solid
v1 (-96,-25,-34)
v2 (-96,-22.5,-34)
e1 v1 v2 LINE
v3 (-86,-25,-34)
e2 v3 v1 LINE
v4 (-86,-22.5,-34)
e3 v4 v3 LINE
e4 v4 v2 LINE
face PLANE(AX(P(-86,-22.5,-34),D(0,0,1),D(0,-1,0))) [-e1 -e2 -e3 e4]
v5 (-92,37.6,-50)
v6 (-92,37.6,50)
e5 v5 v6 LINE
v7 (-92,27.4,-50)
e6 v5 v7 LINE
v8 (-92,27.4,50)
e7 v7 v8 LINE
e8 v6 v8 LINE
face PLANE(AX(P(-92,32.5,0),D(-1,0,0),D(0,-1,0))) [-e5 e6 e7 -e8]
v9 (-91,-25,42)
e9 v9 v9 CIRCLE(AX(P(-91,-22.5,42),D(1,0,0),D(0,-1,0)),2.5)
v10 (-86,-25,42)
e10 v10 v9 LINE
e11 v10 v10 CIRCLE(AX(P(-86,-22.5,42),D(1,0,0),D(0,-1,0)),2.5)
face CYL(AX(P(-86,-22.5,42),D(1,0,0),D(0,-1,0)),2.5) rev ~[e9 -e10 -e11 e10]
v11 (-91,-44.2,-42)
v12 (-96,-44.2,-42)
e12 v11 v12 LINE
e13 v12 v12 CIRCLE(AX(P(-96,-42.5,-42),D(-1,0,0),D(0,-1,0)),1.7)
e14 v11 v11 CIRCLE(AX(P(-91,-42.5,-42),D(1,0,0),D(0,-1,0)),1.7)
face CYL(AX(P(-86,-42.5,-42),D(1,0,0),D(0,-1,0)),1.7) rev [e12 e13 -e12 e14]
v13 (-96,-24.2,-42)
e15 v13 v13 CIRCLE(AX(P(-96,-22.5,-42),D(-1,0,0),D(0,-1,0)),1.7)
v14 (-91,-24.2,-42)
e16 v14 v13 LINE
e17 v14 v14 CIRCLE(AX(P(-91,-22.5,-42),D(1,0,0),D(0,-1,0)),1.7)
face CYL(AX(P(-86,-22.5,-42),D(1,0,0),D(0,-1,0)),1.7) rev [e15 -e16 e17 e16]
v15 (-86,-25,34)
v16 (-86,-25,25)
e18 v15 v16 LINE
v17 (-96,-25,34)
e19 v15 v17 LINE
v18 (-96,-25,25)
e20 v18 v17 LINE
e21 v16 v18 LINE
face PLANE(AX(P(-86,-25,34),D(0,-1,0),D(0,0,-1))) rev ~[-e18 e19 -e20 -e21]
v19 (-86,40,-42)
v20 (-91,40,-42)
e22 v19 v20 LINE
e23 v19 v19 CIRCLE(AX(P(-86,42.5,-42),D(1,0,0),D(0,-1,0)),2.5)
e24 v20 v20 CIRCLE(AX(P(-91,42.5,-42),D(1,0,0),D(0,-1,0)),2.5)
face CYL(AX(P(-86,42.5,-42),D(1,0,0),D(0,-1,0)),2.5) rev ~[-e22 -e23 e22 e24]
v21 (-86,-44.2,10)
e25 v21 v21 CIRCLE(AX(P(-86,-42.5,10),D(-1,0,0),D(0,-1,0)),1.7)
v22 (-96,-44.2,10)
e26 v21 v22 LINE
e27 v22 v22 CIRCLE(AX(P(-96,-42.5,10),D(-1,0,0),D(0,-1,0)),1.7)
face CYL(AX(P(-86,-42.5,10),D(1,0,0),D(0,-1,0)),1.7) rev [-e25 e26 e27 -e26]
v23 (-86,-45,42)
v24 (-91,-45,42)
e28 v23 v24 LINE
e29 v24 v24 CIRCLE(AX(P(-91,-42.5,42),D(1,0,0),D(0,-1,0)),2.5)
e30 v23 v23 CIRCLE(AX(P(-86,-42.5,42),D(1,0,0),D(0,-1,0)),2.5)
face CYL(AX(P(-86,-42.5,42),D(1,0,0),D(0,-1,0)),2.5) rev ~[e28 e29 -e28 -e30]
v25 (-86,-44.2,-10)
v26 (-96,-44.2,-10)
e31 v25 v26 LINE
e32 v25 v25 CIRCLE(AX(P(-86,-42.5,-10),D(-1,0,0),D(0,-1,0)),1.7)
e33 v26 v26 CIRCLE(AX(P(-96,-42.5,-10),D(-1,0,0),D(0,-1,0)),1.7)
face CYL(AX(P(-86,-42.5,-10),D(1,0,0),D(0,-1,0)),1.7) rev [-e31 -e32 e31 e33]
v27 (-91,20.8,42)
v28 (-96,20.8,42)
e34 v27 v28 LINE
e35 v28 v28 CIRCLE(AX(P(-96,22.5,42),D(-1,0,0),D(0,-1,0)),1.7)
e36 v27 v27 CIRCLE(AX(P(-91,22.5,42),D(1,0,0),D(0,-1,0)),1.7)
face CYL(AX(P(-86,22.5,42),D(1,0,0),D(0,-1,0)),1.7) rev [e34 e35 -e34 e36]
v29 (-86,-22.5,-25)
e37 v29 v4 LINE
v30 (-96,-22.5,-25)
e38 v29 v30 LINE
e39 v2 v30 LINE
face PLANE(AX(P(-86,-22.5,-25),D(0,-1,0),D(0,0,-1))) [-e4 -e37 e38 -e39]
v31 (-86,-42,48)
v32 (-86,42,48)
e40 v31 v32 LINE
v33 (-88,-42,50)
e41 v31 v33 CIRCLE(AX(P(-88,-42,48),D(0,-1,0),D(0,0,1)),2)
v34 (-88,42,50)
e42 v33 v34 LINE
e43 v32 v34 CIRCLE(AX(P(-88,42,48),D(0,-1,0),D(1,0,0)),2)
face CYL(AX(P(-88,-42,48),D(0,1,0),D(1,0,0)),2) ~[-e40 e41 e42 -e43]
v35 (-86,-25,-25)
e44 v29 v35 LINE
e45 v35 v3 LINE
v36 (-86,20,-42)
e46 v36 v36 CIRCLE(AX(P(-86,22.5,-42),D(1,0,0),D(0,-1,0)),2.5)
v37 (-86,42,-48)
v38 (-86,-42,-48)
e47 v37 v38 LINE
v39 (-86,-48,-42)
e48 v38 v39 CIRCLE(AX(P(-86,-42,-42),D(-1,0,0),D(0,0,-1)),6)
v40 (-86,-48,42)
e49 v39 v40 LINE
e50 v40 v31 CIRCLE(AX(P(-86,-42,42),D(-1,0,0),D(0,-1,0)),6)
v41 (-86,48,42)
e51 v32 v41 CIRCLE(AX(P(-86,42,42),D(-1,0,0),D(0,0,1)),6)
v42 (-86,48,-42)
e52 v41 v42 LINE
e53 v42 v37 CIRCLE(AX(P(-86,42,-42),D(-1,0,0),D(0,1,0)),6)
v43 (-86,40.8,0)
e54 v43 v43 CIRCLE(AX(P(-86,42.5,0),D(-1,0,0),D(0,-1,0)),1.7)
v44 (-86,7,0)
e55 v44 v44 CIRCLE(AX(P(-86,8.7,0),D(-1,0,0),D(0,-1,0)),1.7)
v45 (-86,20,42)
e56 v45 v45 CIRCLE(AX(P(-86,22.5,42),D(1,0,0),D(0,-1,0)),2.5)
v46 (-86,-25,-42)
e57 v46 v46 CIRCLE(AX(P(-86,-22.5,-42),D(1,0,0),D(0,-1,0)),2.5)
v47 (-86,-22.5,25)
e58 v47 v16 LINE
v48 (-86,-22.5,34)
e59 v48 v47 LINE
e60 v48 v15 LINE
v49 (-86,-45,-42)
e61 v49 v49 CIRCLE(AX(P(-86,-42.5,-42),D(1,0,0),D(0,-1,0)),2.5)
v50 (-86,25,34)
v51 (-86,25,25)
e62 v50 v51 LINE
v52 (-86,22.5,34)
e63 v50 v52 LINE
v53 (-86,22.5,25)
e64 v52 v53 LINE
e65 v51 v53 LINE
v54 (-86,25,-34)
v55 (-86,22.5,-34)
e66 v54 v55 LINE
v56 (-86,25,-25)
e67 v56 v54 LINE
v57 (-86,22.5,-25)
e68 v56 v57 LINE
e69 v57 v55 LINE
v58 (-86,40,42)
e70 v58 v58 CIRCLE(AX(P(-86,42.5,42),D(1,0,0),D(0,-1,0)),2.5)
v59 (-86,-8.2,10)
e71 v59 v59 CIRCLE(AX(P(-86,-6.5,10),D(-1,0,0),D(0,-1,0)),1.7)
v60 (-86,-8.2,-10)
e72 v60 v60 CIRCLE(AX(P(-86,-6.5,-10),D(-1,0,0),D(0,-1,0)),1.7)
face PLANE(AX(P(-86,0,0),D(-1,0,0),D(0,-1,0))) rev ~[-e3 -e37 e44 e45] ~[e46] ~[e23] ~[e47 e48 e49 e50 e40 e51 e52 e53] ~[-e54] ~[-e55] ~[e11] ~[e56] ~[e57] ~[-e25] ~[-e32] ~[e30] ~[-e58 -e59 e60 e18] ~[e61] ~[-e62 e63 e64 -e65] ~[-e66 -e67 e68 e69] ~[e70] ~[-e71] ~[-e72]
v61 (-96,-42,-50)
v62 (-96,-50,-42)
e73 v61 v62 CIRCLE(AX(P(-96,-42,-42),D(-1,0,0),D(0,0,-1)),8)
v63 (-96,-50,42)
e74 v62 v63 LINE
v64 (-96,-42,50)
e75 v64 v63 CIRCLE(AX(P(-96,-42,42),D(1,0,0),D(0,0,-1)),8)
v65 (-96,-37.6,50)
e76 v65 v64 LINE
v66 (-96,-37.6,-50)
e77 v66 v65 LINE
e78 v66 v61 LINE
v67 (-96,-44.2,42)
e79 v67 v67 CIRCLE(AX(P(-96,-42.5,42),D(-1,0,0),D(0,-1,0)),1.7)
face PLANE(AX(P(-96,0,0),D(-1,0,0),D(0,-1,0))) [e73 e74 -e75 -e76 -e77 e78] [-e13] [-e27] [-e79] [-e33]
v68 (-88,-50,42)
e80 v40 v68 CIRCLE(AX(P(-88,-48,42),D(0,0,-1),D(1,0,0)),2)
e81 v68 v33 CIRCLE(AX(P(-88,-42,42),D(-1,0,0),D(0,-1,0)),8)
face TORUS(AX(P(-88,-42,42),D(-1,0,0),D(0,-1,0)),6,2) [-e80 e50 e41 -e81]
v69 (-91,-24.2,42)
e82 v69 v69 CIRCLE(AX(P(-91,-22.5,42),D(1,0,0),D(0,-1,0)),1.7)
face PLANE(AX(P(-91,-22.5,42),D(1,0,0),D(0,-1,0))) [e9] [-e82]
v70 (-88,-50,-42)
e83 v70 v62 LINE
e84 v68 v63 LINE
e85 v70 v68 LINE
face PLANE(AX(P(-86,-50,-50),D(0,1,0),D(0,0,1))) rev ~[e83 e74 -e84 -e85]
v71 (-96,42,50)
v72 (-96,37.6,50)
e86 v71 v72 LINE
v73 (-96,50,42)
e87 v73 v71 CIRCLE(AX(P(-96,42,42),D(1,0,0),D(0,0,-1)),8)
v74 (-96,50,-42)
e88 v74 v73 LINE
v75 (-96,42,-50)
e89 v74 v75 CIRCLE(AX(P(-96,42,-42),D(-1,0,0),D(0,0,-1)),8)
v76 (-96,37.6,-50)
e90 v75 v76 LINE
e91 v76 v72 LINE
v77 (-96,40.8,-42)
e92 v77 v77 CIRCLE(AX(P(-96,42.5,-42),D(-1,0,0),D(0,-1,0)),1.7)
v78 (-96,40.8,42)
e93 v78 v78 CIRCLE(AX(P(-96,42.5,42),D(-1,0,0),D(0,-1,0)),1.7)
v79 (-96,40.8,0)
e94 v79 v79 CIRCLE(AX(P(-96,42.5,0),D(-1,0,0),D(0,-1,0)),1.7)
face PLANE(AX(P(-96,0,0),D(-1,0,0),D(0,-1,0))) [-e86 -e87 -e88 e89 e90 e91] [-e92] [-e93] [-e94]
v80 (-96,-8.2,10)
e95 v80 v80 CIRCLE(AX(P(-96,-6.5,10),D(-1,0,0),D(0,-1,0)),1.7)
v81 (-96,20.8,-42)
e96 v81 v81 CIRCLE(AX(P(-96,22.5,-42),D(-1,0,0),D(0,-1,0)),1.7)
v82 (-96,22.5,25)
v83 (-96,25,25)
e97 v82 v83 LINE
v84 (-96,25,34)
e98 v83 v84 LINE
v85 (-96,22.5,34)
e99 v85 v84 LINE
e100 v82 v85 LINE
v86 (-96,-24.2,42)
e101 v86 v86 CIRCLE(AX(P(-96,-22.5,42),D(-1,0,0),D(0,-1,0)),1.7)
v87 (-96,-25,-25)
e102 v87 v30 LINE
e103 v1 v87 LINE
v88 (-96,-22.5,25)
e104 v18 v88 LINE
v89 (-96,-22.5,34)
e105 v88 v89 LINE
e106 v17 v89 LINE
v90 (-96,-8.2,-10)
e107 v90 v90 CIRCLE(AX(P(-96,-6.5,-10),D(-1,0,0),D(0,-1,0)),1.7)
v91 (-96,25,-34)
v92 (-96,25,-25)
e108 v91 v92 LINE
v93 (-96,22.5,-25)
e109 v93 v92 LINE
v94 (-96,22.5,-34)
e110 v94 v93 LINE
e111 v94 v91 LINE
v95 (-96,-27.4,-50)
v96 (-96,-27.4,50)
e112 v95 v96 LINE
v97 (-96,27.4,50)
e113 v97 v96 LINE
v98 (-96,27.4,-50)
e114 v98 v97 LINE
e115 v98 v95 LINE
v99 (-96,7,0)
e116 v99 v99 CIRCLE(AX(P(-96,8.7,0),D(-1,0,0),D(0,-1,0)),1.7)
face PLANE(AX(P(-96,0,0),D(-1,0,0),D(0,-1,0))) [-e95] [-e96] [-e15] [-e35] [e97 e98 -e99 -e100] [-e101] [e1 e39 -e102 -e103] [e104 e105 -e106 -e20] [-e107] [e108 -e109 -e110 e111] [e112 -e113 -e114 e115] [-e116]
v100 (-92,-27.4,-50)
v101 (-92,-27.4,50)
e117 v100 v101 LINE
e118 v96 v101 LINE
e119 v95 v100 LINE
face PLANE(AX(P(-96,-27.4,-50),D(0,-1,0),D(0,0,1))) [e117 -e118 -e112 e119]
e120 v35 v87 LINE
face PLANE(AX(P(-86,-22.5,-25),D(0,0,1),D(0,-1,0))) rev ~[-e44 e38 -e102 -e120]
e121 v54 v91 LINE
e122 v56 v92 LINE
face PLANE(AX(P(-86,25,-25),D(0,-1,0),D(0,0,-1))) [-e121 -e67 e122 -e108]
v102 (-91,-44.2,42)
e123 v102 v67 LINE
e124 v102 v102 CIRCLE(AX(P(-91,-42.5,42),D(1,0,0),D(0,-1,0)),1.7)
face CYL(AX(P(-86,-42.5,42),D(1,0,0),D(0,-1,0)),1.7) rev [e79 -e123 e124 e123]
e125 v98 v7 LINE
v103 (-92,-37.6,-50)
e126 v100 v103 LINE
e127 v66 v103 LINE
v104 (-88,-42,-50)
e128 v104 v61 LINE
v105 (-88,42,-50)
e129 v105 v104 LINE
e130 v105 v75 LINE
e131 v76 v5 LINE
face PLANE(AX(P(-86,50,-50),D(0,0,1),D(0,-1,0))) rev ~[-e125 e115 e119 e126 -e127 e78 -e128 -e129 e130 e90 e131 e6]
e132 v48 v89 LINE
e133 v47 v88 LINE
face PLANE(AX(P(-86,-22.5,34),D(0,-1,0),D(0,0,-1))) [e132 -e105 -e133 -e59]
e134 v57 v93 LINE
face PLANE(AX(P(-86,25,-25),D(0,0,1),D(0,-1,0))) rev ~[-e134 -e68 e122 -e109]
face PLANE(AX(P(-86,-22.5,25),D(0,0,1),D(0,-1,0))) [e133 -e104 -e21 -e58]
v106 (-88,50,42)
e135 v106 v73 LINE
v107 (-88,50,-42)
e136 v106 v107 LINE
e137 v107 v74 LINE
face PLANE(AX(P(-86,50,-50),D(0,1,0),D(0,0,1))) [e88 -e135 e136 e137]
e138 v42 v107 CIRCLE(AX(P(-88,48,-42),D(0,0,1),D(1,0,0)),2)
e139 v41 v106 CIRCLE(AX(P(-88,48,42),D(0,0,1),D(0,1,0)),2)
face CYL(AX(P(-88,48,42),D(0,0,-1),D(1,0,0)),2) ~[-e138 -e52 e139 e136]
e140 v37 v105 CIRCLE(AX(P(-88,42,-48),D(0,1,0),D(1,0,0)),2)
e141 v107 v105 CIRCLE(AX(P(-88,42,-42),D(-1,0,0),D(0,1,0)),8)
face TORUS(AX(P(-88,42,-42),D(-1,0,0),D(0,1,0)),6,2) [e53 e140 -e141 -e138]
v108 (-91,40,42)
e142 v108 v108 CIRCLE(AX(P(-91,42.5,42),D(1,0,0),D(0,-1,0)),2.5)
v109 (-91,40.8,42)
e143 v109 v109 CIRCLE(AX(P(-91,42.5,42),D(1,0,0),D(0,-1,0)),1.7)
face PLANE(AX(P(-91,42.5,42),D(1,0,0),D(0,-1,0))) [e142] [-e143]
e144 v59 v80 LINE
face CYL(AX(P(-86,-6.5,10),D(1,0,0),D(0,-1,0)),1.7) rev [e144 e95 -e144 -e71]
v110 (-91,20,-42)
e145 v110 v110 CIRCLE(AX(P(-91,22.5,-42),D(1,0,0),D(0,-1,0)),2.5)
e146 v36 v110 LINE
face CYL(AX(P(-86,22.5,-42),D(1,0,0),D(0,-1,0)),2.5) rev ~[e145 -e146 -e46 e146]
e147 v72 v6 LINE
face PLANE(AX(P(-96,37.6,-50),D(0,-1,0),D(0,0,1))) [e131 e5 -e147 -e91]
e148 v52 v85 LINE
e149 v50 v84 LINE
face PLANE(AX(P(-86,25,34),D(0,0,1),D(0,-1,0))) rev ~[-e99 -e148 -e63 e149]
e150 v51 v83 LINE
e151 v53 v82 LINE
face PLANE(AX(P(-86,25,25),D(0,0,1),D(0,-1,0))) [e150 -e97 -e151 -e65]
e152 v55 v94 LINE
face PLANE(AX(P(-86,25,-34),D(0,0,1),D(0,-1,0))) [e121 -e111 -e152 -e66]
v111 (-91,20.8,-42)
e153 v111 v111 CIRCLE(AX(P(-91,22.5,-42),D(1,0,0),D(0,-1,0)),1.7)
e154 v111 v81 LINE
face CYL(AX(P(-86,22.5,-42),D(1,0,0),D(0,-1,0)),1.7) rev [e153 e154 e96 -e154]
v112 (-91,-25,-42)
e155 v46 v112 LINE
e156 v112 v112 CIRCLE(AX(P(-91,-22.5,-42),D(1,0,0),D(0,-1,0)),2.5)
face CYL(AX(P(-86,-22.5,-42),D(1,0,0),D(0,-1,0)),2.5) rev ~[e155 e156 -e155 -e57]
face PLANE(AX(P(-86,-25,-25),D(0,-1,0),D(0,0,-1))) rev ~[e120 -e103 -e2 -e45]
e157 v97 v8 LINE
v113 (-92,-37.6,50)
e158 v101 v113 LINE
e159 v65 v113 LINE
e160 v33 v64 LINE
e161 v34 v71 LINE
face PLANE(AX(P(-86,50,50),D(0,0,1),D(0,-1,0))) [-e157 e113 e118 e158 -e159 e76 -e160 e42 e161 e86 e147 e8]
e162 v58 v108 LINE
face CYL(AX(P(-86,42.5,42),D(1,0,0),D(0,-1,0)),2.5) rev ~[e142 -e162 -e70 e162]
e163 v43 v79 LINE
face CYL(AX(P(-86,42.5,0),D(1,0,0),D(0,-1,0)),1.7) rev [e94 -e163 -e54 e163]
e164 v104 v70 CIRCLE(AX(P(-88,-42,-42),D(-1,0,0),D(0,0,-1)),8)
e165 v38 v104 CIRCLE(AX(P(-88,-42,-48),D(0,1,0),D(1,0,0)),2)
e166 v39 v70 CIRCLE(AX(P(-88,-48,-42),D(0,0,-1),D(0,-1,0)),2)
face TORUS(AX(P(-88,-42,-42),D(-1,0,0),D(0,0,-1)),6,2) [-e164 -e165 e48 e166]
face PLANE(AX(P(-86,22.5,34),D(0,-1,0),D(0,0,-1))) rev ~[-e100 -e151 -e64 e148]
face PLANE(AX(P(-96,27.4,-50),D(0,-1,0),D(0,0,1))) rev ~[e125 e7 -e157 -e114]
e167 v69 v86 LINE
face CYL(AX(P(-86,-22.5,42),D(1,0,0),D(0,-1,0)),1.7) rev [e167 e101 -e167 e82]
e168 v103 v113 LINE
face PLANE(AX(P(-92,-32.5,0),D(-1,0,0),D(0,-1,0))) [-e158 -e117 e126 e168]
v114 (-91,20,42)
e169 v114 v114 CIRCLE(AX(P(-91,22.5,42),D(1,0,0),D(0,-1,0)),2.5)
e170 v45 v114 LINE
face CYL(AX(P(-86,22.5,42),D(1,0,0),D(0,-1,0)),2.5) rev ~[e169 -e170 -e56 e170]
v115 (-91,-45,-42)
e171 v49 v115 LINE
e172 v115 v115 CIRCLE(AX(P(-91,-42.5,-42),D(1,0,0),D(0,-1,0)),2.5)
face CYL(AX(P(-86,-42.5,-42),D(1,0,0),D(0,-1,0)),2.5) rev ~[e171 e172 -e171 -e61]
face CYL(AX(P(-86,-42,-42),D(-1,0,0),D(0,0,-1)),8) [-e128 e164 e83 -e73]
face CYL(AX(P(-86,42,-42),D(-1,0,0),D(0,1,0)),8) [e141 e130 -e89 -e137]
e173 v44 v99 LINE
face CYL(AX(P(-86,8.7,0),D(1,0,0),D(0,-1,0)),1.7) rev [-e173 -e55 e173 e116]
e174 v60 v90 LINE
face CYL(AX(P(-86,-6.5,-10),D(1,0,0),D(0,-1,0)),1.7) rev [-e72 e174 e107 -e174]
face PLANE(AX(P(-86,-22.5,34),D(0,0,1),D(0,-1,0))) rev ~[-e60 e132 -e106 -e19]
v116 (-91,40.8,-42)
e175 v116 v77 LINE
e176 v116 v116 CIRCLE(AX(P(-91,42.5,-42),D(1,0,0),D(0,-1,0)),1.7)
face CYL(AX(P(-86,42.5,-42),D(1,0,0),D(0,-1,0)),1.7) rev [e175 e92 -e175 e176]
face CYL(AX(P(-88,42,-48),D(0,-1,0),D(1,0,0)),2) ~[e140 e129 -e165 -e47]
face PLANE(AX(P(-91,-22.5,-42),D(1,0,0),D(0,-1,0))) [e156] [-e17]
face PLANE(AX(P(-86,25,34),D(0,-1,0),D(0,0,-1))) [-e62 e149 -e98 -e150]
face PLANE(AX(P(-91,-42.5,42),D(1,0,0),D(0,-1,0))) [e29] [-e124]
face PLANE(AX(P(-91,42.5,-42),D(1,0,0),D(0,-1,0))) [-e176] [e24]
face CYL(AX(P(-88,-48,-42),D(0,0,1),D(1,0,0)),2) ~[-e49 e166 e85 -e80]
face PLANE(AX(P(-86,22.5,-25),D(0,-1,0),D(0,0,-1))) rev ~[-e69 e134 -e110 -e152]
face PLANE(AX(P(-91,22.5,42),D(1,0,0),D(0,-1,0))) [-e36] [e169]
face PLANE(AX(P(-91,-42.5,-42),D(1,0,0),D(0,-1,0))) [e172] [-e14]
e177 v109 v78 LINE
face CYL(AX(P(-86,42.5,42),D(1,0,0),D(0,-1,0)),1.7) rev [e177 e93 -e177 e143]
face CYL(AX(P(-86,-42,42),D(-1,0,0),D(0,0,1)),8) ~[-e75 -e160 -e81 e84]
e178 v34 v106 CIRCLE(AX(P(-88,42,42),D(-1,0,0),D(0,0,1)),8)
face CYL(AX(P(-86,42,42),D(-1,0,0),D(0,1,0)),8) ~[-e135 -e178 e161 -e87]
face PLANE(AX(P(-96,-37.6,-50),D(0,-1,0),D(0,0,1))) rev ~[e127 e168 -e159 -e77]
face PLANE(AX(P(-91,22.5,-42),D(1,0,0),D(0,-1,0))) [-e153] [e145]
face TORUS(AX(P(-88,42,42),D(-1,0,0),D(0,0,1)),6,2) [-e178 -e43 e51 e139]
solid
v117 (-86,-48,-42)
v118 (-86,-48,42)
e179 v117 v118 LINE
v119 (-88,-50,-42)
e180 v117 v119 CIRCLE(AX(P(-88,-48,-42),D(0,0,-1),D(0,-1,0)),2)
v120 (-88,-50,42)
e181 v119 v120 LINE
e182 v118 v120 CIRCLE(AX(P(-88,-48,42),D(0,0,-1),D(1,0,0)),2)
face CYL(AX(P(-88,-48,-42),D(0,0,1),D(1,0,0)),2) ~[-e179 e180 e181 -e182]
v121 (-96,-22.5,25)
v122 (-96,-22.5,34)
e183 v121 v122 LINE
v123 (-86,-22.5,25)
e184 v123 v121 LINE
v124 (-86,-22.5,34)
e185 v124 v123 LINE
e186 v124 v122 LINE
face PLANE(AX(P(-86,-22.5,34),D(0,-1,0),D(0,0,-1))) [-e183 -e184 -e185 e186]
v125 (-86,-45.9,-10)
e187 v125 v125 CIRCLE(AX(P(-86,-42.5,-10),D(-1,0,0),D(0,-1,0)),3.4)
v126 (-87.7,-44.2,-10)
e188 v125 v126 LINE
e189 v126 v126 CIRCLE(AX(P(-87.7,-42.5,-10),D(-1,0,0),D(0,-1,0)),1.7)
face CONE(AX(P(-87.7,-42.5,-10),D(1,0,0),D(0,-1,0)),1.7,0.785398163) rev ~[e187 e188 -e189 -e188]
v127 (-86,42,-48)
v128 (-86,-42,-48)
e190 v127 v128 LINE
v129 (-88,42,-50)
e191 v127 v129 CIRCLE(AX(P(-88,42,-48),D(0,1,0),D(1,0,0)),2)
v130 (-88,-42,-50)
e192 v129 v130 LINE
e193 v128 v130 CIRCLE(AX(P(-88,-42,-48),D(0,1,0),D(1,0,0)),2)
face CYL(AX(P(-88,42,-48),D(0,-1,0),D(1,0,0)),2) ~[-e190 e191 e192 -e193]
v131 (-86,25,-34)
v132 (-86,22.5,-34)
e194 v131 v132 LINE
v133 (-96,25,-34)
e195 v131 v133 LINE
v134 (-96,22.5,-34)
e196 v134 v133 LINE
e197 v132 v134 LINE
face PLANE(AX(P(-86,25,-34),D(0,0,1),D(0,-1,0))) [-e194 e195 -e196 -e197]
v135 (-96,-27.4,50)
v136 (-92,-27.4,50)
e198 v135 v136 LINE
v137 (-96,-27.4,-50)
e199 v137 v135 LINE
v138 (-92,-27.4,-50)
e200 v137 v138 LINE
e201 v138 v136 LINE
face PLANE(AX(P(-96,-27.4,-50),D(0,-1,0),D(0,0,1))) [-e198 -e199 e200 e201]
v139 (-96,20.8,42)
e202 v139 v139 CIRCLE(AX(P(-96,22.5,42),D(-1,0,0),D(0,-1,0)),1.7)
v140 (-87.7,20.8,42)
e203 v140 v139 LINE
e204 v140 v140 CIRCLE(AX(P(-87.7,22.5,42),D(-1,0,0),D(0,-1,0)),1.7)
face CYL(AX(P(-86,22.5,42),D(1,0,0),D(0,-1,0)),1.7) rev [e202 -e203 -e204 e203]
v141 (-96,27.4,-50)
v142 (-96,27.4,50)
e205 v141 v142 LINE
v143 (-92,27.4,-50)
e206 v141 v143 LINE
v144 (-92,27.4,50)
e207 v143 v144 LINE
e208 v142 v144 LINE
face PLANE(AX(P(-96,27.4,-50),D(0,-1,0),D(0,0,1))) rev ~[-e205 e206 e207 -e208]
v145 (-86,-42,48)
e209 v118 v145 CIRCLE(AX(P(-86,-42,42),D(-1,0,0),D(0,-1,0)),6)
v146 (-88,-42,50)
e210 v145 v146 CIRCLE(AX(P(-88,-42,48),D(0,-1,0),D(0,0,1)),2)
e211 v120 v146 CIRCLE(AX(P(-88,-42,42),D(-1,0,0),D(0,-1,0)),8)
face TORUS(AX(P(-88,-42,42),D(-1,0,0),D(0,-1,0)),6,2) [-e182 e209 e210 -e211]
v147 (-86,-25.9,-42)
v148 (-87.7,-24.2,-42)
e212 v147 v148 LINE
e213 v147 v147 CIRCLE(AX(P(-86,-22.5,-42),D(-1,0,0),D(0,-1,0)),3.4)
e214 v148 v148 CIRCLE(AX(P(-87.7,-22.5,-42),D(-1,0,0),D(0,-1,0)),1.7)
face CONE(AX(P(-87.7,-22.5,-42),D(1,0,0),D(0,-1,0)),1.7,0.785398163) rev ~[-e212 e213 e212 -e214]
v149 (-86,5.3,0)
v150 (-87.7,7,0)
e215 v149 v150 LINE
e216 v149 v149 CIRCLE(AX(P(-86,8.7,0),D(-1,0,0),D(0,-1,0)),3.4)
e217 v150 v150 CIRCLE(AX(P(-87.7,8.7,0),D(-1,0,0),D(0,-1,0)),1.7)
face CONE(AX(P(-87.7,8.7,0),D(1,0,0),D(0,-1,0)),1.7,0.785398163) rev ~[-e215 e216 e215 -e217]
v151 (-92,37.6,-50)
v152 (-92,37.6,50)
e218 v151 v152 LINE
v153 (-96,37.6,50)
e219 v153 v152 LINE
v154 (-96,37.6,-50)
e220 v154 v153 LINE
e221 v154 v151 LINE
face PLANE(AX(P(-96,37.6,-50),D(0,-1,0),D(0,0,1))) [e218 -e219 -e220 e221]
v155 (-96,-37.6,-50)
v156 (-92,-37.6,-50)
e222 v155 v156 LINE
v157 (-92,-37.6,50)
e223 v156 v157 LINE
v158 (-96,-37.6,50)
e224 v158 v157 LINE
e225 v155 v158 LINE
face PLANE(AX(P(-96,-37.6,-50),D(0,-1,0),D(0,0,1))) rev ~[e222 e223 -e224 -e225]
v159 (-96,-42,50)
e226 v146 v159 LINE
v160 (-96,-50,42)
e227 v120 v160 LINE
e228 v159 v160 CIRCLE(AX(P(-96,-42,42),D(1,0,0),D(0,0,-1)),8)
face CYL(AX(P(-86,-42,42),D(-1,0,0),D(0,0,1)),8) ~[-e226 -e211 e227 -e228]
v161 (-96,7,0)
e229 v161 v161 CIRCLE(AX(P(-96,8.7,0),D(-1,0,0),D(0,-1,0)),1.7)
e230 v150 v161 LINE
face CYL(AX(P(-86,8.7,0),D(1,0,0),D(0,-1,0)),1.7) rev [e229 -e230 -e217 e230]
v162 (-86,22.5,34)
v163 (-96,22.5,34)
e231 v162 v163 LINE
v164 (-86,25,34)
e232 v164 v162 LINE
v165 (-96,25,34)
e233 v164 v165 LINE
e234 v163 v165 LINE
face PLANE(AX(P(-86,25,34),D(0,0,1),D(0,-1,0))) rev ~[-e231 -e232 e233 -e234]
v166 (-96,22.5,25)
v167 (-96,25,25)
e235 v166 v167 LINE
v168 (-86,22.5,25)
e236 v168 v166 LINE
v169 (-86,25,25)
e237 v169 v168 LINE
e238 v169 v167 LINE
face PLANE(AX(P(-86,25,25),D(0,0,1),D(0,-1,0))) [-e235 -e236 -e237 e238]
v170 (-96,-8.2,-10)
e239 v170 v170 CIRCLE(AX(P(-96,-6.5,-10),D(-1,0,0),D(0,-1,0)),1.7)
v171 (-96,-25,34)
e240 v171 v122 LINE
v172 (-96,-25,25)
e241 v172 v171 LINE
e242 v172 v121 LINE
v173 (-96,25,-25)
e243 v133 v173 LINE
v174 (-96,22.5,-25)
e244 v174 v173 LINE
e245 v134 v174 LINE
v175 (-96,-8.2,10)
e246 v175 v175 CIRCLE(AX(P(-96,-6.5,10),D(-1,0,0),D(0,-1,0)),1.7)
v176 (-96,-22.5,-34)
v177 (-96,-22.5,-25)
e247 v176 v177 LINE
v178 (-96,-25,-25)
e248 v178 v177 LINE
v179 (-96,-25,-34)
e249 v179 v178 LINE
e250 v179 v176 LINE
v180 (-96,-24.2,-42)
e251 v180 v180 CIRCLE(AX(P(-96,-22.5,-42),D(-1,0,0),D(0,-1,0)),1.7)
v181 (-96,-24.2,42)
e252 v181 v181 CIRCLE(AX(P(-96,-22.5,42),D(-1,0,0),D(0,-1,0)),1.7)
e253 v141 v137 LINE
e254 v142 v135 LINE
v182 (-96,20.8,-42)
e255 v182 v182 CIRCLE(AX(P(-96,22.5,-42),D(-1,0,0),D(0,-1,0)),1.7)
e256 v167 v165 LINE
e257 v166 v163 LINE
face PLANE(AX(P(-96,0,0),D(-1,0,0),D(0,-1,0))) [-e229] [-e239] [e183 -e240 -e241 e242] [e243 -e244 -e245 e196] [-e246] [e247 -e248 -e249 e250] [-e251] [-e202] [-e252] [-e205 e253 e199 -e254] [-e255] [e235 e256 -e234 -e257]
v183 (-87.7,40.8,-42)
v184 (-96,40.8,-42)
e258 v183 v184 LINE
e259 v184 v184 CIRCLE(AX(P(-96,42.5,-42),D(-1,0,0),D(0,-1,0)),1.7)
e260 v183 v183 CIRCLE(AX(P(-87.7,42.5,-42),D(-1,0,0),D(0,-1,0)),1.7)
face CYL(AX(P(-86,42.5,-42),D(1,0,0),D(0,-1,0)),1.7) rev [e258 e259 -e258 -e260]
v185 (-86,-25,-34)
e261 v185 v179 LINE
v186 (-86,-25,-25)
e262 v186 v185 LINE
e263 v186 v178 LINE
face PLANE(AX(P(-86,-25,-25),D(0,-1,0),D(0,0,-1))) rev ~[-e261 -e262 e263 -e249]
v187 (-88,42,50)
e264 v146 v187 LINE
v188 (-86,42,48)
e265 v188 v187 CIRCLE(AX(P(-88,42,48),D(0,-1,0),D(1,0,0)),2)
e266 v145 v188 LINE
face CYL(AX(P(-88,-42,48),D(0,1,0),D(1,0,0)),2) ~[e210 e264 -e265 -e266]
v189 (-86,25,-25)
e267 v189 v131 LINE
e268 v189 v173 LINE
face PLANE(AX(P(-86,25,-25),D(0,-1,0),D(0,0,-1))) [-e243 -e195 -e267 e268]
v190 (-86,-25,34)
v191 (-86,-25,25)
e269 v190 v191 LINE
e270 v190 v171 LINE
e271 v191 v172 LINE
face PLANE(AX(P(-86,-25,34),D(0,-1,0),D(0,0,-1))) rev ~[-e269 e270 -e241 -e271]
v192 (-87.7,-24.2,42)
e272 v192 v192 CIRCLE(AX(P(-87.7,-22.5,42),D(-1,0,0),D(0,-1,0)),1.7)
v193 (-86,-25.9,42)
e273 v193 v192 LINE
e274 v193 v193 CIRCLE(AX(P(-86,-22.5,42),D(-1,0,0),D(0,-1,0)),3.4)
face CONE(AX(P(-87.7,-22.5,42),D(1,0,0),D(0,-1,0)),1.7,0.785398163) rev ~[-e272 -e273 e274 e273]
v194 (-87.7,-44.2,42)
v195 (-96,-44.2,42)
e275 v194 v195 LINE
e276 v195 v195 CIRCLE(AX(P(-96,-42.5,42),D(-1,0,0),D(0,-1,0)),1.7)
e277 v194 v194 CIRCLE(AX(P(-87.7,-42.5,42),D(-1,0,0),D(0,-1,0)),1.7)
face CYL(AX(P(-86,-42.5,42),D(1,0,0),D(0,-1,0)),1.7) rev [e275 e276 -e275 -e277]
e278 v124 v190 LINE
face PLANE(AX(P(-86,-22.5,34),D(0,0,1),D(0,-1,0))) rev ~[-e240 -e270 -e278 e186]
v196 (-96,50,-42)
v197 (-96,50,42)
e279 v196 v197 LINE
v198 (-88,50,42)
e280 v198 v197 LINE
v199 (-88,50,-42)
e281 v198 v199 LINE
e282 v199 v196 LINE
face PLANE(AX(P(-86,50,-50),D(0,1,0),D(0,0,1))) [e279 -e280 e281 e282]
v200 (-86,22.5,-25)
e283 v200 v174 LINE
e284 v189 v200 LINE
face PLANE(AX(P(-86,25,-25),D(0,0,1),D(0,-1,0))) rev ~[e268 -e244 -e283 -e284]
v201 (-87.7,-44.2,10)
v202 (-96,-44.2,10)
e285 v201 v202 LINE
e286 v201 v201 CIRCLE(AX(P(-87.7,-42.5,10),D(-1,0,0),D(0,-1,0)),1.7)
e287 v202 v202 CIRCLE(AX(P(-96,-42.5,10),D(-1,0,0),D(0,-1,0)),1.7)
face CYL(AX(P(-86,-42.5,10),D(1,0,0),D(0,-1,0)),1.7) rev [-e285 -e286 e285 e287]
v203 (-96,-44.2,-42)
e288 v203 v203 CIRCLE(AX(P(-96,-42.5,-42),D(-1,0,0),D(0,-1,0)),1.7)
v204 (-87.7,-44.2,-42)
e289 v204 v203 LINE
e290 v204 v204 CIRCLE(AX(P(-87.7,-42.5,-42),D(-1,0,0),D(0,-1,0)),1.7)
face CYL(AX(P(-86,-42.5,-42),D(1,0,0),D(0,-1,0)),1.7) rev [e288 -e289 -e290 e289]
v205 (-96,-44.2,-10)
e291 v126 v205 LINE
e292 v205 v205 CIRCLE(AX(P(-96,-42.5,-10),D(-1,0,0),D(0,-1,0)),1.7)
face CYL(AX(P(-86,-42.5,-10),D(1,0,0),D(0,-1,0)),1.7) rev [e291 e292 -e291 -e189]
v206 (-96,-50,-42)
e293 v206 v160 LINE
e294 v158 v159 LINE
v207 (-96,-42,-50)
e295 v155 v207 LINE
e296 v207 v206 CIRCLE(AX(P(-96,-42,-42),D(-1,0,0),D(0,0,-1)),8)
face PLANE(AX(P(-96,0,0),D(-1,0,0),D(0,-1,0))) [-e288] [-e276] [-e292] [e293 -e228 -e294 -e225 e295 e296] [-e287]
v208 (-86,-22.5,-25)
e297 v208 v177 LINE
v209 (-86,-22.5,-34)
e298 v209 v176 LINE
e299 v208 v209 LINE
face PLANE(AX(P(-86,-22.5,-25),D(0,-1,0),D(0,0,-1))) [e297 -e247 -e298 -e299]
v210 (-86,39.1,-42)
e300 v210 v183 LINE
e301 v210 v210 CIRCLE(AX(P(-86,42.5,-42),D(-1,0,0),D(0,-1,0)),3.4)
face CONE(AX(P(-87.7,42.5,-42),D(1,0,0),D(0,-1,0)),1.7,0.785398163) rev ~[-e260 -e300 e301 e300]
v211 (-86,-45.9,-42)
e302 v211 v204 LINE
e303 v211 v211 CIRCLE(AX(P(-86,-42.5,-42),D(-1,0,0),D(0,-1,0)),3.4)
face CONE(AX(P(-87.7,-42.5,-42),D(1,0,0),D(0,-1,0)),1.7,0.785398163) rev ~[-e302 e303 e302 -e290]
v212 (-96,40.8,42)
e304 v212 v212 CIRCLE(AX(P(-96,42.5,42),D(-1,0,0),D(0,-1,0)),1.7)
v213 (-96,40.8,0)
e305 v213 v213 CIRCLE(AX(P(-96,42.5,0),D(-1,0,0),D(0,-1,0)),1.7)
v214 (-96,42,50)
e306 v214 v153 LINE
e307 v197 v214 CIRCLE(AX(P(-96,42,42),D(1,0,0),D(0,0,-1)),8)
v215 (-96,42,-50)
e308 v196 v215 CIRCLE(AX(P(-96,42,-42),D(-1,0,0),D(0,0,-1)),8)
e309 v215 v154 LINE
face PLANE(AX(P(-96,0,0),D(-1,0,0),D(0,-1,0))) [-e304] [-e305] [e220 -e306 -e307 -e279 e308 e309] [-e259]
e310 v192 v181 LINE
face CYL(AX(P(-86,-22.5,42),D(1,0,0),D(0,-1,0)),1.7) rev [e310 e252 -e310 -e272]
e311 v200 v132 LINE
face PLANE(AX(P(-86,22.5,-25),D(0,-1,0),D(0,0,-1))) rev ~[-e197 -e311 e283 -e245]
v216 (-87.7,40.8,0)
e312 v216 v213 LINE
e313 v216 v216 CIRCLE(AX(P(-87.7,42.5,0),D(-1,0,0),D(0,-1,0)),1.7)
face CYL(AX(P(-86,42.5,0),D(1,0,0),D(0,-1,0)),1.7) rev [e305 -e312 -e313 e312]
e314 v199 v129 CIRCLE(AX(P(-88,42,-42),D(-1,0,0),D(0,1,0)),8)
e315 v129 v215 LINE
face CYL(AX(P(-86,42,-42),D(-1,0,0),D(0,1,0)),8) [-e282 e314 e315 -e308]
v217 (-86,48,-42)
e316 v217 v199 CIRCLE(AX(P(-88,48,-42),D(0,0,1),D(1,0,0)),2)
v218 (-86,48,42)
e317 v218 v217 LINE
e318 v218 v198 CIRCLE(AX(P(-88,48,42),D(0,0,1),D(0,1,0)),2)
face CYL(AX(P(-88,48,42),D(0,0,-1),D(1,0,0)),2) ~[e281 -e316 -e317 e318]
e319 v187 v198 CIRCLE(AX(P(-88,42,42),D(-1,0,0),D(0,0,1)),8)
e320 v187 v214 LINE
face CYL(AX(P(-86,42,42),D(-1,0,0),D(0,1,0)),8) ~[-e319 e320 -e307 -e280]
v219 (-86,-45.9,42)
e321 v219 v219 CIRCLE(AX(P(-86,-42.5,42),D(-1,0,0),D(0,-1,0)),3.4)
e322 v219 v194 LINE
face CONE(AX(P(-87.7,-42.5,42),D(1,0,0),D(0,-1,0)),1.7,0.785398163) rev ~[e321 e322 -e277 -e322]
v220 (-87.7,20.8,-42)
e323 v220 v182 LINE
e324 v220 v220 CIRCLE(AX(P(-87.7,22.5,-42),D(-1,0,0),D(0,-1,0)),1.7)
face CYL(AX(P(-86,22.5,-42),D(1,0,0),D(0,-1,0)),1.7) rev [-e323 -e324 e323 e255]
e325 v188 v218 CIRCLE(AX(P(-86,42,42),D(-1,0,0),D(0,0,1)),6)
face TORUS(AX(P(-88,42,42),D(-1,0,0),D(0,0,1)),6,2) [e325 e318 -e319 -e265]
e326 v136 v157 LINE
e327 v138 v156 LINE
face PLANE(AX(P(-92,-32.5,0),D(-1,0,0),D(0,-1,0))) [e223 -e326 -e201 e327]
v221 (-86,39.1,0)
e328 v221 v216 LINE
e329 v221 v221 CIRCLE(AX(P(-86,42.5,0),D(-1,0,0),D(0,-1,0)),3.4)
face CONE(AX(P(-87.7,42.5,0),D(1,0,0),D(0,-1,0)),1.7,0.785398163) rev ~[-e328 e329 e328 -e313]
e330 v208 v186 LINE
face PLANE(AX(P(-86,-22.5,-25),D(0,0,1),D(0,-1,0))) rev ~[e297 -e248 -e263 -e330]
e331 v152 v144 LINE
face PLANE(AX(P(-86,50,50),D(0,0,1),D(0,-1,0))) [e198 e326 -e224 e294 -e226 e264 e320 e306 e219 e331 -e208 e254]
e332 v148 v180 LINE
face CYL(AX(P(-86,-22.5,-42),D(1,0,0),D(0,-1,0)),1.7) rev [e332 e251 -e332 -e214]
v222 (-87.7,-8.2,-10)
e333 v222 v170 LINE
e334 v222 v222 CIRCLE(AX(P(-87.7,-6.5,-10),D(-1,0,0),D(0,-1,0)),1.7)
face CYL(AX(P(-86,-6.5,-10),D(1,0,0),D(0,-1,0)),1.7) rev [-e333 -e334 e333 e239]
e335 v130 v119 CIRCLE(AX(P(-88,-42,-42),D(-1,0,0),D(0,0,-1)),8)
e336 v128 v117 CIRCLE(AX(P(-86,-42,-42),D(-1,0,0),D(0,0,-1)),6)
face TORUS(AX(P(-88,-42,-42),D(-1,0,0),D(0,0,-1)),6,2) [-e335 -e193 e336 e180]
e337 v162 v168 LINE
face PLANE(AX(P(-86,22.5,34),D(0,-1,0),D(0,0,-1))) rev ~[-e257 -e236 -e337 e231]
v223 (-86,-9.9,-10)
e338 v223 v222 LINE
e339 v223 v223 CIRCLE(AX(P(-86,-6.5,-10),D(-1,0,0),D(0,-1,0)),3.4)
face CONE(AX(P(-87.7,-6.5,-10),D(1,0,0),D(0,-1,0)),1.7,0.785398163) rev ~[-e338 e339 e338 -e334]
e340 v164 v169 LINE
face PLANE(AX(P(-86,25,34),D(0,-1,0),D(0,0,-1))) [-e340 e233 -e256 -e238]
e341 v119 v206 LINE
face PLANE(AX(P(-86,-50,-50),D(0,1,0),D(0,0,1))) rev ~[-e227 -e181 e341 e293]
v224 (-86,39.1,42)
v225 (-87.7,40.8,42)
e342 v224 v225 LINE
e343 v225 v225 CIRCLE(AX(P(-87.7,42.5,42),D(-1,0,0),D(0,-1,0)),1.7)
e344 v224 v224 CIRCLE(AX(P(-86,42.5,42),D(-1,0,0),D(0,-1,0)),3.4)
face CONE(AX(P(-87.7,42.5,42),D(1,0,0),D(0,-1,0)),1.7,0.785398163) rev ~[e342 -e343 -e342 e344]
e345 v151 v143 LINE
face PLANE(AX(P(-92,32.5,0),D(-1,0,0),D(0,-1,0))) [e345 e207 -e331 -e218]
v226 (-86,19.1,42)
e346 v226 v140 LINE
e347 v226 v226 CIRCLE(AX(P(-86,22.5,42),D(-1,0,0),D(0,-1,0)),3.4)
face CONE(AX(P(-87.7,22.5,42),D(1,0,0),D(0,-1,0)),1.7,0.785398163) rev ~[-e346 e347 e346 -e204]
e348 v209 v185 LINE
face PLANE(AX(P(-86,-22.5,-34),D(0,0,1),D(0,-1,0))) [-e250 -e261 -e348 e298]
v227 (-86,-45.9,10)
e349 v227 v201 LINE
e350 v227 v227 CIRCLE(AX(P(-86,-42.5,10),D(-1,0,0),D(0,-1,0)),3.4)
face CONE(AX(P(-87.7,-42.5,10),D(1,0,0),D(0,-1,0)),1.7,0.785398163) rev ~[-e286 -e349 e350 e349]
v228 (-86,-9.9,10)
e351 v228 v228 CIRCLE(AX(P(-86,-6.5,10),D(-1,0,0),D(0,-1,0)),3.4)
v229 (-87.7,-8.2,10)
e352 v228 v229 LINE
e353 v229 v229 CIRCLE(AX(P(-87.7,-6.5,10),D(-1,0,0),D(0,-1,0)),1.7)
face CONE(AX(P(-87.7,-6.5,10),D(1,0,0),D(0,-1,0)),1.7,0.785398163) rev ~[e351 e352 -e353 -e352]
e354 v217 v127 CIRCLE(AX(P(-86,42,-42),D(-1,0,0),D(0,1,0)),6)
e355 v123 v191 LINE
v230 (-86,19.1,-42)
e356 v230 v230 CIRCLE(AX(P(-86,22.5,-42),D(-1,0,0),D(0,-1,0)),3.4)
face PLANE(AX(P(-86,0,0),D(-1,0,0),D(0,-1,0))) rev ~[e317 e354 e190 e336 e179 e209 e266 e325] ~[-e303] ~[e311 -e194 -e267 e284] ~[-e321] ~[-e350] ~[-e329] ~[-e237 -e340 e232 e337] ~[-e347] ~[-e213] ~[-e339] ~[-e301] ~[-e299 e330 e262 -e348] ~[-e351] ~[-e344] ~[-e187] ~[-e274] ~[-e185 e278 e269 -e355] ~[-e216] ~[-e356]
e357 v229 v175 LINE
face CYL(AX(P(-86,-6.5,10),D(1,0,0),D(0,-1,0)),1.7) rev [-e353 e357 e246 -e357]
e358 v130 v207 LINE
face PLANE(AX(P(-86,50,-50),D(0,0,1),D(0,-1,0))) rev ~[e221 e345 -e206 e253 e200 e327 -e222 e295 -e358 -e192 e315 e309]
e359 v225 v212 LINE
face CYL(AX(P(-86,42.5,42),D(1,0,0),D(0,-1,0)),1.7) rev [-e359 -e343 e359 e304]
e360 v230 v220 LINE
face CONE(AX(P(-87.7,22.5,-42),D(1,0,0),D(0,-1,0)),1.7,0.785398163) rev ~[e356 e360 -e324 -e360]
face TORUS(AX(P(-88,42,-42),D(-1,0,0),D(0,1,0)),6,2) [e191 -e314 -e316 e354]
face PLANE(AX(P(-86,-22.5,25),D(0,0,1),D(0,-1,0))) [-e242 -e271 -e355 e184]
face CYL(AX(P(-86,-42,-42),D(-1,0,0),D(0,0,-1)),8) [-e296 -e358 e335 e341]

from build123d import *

# Parameters (mm, degrees)
SKETCH001_W     = 100
SKETCH001_H     = 100
SKETCH001_R     = 1.7
PAD_DEPTH       = 10
SKETCH004_W     = 10.2
SKETCH004_H     = 100
POCKET_DEPTH    = 4
FILLET_R        = 8
FILLET001_R     = 8
FILLET002_R     = 8
FILLET003_R     = 8
FILLET004_R     = 2
SKETCH_W        = 2.5
SKETCH_H        = 9
POCKET002_DEPTH = 10.001
SKETCH005_R     = 2.5
POCKET001_DEPTH = 5
CHAMFER_SIZE    = 1.7
CHAMFER001_SIZE = 1.7
CHAMFER002_SIZE = 1.7
CHAMFER003_SIZE = 1.7
CHAMFER004_SIZE = 1.7
CHAMFER005_SIZE = 1.7
CHAMFER006_SIZE = 1.7
CHAMFER007_SIZE = 1.7
CHAMFER008_SIZE = 1.7
CHAMFER009_SIZE = 1.7
CHAMFER010_SIZE = 1.7
CHAMFER011_SIZE = 1.7
CHAMFER012_SIZE = 1.7
CHAMFER013_SIZE = 1.7


with BuildPart() as pocket002:
    # Sketch001 → Pad (new body)
    with BuildSketch(Plane(origin=(-86, 0, 0), x_dir=(0, -1, 0), z_dir=(-1, 0, 0))):
        Rectangle(SKETCH001_W, SKETCH001_H)
        with Locations((42.5, 42)):
            Circle(SKETCH001_R, mode=Mode.SUBTRACT)
        with Locations((42.5, -42)):
            Circle(SKETCH001_R, mode=Mode.SUBTRACT)
        with Locations((22.5, 42)):
            Circle(SKETCH001_R, mode=Mode.SUBTRACT)
        with Locations((22.5, -42)):
            Circle(SKETCH001_R, mode=Mode.SUBTRACT)
        with Locations((-22.5, 42)):
            Circle(SKETCH001_R, mode=Mode.SUBTRACT)
        with Locations((-42.5, 42)):
            Circle(SKETCH001_R, mode=Mode.SUBTRACT)
        with Locations((-42.5, -42)):
            Circle(SKETCH001_R, mode=Mode.SUBTRACT)
        with Locations((-22.5, -42)):
            Circle(SKETCH001_R, mode=Mode.SUBTRACT)
        with Locations((6.5, 10)):
            Circle(SKETCH001_R, mode=Mode.SUBTRACT)
        with Locations((42.5, 10)):
            Circle(SKETCH001_R, mode=Mode.SUBTRACT)
        with Locations((6.5, -10)):
            Circle(SKETCH001_R, mode=Mode.SUBTRACT)
        with Locations((42.5, -10)):
            Circle(SKETCH001_R, mode=Mode.SUBTRACT)
        with Locations((-42.5, 0)):
            Circle(SKETCH001_R, mode=Mode.SUBTRACT)
        with Locations((-8.7, 0)):
            Circle(SKETCH001_R, mode=Mode.SUBTRACT)
    extrude(amount=PAD_DEPTH)

    # Sketch004 → Pocket (cut)
    with BuildSketch(Plane(origin=(-96, 0, 0), x_dir=(0, -1, 0), z_dir=(-1, 0, 0))):
        with Locations((-32.5, 0)):
            Rectangle(SKETCH004_W, SKETCH004_H)
        with Locations((32.5, 0)):
            Rectangle(SKETCH004_W, SKETCH004_H)
    extrude(amount=-POCKET_DEPTH, mode=Mode.SUBTRACT)

    # Fillet
    fillet_edges = [pocket002.edges().sort_by_distance(p)[0] for p in [
        (-91, -50, 50),
    ]]
    fillet(fillet_edges, radius=FILLET_R)

    # Fillet001
    fillet001_edges = [pocket002.edges().sort_by_distance(p)[0] for p in [
        (-91, 50, -50),
    ]]
    fillet(fillet001_edges, radius=FILLET001_R)

    # Fillet002
    fillet002_edges = [pocket002.edges().sort_by_distance(p)[0] for p in [
        (-91, 50, 50),
    ]]
    fillet(fillet002_edges, radius=FILLET002_R)

    # Fillet003
    fillet003_edges = [pocket002.edges().sort_by_distance(p)[0] for p in [
        (-91, -50, -50),
    ]]
    fillet(fillet003_edges, radius=FILLET003_R)

    # Fillet004
    fillet004_edges = [pocket002.edges().sort_by_distance(p)[0] for p in [
        (-86, 0, -50),
    ]]
    fillet(fillet004_edges, radius=FILLET004_R)

    # Sketch → Pocket002 (cut, through all)
    with BuildSketch(Plane(origin=(-86, 0, 0), x_dir=(0, -1, 0), z_dir=(1, 0, 0))):
        with Locations((-23.75, 29.5)):
            Rectangle(SKETCH_W, SKETCH_H)
        with Locations((23.75, 29.5)):
            Rectangle(SKETCH_W, SKETCH_H)
        with Locations((-23.75, -29.5)):
            Rectangle(SKETCH_W, SKETCH_H)
        with Locations((23.75, -29.5)):
            Rectangle(SKETCH_W, SKETCH_H)
    extrude(amount=-POCKET002_DEPTH, mode=Mode.SUBTRACT)


with BuildPart() as finalsidea:
    # Pocket001 base: copy of Pocket002
    add(pocket002.part)

    # Sketch005 → Pocket001 (cut)
    with BuildSketch(Plane(origin=(-86, 0, 0), x_dir=(0, -1, 0), z_dir=(1, 0, 0))):
        with Locations((42.5, 42)):
            Circle(SKETCH005_R)
        with Locations((42.5, -42)):
            Circle(SKETCH005_R)
        with Locations((22.5, 42)):
            Circle(SKETCH005_R)
        with Locations((22.5, -42)):
            Circle(SKETCH005_R)
        with Locations((-22.5, 42)):
            Circle(SKETCH005_R)
        with Locations((-42.5, 42)):
            Circle(SKETCH005_R)
        with Locations((-42.5, -42)):
            Circle(SKETCH005_R)
        with Locations((-22.5, -42)):
            Circle(SKETCH005_R)
    extrude(amount=-POCKET001_DEPTH, mode=Mode.SUBTRACT)


with BuildPart() as finalsideb:
    # Chamfer base: copy of Pocket002
    add(pocket002.part)

    # Chamfer
    chamfer_edges = [finalsideb.edges().sort_by_distance(p)[0] for p in [
        (-86, 44.2, -42),
    ]]
    chamfer(chamfer_edges, length=CHAMFER_SIZE)

    # Chamfer001
    chamfer001_edges = [finalsideb.edges().sort_by_distance(p)[0] for p in [
        (-86, 24.2, -42),
    ]]
    chamfer(chamfer001_edges, length=CHAMFER001_SIZE)

    # Chamfer002
    chamfer002_edges = [finalsideb.edges().sort_by_distance(p)[0] for p in [
        (-86, -20.8, -42),
    ]]
    chamfer(chamfer002_edges, length=CHAMFER002_SIZE)

    # Chamfer003
    chamfer003_edges = [finalsideb.edges().sort_by_distance(p)[0] for p in [
        (-86, -40.8, -42),
    ]]
    chamfer(chamfer003_edges, length=CHAMFER003_SIZE)

    # Chamfer004
    chamfer004_edges = [finalsideb.edges().sort_by_distance(p)[0] for p in [
        (-86, -40.8, 42),
    ]]
    chamfer(chamfer004_edges, length=CHAMFER004_SIZE)

    # Chamfer005
    chamfer005_edges = [finalsideb.edges().sort_by_distance(p)[0] for p in [
        (-86, -20.8, 42),
    ]]
    chamfer(chamfer005_edges, length=CHAMFER005_SIZE)

    # Chamfer006
    chamfer006_edges = [finalsideb.edges().sort_by_distance(p)[0] for p in [
        (-86, 24.2, 42),
    ]]
    chamfer(chamfer006_edges, length=CHAMFER006_SIZE)

    # Chamfer007
    chamfer007_edges = [finalsideb.edges().sort_by_distance(p)[0] for p in [
        (-86, 44.2, 42),
    ]]
    chamfer(chamfer007_edges, length=CHAMFER007_SIZE)

    # Chamfer008
    chamfer008_edges = [finalsideb.edges().sort_by_distance(p)[0] for p in [
        (-86, 44.2, 0),
    ]]
    chamfer(chamfer008_edges, length=CHAMFER008_SIZE)

    # Chamfer009
    chamfer009_edges = [finalsideb.edges().sort_by_distance(p)[0] for p in [
        (-86, 10.4, 0),
    ]]
    chamfer(chamfer009_edges, length=CHAMFER009_SIZE)

    # Chamfer010
    chamfer010_edges = [finalsideb.edges().sort_by_distance(p)[0] for p in [
        (-86, -4.8, -10),
    ]]
    chamfer(chamfer010_edges, length=CHAMFER010_SIZE)

    # Chamfer011
    chamfer011_edges = [finalsideb.edges().sort_by_distance(p)[0] for p in [
        (-86, -4.8, 10),
    ]]
    chamfer(chamfer011_edges, length=CHAMFER011_SIZE)

    # Chamfer012
    chamfer012_edges = [finalsideb.edges().sort_by_distance(p)[0] for p in [
        (-86, -40.8, -10),
    ]]
    chamfer(chamfer012_edges, length=CHAMFER012_SIZE)

    # Chamfer013
    chamfer013_edges = [finalsideb.edges().sort_by_distance(p)[0] for p in [
        (-86, -40.8, 10),
    ]]
    chamfer(chamfer013_edges, length=CHAMFER013_SIZE)


solid = Compound([finalsidea.part, finalsideb.part])
